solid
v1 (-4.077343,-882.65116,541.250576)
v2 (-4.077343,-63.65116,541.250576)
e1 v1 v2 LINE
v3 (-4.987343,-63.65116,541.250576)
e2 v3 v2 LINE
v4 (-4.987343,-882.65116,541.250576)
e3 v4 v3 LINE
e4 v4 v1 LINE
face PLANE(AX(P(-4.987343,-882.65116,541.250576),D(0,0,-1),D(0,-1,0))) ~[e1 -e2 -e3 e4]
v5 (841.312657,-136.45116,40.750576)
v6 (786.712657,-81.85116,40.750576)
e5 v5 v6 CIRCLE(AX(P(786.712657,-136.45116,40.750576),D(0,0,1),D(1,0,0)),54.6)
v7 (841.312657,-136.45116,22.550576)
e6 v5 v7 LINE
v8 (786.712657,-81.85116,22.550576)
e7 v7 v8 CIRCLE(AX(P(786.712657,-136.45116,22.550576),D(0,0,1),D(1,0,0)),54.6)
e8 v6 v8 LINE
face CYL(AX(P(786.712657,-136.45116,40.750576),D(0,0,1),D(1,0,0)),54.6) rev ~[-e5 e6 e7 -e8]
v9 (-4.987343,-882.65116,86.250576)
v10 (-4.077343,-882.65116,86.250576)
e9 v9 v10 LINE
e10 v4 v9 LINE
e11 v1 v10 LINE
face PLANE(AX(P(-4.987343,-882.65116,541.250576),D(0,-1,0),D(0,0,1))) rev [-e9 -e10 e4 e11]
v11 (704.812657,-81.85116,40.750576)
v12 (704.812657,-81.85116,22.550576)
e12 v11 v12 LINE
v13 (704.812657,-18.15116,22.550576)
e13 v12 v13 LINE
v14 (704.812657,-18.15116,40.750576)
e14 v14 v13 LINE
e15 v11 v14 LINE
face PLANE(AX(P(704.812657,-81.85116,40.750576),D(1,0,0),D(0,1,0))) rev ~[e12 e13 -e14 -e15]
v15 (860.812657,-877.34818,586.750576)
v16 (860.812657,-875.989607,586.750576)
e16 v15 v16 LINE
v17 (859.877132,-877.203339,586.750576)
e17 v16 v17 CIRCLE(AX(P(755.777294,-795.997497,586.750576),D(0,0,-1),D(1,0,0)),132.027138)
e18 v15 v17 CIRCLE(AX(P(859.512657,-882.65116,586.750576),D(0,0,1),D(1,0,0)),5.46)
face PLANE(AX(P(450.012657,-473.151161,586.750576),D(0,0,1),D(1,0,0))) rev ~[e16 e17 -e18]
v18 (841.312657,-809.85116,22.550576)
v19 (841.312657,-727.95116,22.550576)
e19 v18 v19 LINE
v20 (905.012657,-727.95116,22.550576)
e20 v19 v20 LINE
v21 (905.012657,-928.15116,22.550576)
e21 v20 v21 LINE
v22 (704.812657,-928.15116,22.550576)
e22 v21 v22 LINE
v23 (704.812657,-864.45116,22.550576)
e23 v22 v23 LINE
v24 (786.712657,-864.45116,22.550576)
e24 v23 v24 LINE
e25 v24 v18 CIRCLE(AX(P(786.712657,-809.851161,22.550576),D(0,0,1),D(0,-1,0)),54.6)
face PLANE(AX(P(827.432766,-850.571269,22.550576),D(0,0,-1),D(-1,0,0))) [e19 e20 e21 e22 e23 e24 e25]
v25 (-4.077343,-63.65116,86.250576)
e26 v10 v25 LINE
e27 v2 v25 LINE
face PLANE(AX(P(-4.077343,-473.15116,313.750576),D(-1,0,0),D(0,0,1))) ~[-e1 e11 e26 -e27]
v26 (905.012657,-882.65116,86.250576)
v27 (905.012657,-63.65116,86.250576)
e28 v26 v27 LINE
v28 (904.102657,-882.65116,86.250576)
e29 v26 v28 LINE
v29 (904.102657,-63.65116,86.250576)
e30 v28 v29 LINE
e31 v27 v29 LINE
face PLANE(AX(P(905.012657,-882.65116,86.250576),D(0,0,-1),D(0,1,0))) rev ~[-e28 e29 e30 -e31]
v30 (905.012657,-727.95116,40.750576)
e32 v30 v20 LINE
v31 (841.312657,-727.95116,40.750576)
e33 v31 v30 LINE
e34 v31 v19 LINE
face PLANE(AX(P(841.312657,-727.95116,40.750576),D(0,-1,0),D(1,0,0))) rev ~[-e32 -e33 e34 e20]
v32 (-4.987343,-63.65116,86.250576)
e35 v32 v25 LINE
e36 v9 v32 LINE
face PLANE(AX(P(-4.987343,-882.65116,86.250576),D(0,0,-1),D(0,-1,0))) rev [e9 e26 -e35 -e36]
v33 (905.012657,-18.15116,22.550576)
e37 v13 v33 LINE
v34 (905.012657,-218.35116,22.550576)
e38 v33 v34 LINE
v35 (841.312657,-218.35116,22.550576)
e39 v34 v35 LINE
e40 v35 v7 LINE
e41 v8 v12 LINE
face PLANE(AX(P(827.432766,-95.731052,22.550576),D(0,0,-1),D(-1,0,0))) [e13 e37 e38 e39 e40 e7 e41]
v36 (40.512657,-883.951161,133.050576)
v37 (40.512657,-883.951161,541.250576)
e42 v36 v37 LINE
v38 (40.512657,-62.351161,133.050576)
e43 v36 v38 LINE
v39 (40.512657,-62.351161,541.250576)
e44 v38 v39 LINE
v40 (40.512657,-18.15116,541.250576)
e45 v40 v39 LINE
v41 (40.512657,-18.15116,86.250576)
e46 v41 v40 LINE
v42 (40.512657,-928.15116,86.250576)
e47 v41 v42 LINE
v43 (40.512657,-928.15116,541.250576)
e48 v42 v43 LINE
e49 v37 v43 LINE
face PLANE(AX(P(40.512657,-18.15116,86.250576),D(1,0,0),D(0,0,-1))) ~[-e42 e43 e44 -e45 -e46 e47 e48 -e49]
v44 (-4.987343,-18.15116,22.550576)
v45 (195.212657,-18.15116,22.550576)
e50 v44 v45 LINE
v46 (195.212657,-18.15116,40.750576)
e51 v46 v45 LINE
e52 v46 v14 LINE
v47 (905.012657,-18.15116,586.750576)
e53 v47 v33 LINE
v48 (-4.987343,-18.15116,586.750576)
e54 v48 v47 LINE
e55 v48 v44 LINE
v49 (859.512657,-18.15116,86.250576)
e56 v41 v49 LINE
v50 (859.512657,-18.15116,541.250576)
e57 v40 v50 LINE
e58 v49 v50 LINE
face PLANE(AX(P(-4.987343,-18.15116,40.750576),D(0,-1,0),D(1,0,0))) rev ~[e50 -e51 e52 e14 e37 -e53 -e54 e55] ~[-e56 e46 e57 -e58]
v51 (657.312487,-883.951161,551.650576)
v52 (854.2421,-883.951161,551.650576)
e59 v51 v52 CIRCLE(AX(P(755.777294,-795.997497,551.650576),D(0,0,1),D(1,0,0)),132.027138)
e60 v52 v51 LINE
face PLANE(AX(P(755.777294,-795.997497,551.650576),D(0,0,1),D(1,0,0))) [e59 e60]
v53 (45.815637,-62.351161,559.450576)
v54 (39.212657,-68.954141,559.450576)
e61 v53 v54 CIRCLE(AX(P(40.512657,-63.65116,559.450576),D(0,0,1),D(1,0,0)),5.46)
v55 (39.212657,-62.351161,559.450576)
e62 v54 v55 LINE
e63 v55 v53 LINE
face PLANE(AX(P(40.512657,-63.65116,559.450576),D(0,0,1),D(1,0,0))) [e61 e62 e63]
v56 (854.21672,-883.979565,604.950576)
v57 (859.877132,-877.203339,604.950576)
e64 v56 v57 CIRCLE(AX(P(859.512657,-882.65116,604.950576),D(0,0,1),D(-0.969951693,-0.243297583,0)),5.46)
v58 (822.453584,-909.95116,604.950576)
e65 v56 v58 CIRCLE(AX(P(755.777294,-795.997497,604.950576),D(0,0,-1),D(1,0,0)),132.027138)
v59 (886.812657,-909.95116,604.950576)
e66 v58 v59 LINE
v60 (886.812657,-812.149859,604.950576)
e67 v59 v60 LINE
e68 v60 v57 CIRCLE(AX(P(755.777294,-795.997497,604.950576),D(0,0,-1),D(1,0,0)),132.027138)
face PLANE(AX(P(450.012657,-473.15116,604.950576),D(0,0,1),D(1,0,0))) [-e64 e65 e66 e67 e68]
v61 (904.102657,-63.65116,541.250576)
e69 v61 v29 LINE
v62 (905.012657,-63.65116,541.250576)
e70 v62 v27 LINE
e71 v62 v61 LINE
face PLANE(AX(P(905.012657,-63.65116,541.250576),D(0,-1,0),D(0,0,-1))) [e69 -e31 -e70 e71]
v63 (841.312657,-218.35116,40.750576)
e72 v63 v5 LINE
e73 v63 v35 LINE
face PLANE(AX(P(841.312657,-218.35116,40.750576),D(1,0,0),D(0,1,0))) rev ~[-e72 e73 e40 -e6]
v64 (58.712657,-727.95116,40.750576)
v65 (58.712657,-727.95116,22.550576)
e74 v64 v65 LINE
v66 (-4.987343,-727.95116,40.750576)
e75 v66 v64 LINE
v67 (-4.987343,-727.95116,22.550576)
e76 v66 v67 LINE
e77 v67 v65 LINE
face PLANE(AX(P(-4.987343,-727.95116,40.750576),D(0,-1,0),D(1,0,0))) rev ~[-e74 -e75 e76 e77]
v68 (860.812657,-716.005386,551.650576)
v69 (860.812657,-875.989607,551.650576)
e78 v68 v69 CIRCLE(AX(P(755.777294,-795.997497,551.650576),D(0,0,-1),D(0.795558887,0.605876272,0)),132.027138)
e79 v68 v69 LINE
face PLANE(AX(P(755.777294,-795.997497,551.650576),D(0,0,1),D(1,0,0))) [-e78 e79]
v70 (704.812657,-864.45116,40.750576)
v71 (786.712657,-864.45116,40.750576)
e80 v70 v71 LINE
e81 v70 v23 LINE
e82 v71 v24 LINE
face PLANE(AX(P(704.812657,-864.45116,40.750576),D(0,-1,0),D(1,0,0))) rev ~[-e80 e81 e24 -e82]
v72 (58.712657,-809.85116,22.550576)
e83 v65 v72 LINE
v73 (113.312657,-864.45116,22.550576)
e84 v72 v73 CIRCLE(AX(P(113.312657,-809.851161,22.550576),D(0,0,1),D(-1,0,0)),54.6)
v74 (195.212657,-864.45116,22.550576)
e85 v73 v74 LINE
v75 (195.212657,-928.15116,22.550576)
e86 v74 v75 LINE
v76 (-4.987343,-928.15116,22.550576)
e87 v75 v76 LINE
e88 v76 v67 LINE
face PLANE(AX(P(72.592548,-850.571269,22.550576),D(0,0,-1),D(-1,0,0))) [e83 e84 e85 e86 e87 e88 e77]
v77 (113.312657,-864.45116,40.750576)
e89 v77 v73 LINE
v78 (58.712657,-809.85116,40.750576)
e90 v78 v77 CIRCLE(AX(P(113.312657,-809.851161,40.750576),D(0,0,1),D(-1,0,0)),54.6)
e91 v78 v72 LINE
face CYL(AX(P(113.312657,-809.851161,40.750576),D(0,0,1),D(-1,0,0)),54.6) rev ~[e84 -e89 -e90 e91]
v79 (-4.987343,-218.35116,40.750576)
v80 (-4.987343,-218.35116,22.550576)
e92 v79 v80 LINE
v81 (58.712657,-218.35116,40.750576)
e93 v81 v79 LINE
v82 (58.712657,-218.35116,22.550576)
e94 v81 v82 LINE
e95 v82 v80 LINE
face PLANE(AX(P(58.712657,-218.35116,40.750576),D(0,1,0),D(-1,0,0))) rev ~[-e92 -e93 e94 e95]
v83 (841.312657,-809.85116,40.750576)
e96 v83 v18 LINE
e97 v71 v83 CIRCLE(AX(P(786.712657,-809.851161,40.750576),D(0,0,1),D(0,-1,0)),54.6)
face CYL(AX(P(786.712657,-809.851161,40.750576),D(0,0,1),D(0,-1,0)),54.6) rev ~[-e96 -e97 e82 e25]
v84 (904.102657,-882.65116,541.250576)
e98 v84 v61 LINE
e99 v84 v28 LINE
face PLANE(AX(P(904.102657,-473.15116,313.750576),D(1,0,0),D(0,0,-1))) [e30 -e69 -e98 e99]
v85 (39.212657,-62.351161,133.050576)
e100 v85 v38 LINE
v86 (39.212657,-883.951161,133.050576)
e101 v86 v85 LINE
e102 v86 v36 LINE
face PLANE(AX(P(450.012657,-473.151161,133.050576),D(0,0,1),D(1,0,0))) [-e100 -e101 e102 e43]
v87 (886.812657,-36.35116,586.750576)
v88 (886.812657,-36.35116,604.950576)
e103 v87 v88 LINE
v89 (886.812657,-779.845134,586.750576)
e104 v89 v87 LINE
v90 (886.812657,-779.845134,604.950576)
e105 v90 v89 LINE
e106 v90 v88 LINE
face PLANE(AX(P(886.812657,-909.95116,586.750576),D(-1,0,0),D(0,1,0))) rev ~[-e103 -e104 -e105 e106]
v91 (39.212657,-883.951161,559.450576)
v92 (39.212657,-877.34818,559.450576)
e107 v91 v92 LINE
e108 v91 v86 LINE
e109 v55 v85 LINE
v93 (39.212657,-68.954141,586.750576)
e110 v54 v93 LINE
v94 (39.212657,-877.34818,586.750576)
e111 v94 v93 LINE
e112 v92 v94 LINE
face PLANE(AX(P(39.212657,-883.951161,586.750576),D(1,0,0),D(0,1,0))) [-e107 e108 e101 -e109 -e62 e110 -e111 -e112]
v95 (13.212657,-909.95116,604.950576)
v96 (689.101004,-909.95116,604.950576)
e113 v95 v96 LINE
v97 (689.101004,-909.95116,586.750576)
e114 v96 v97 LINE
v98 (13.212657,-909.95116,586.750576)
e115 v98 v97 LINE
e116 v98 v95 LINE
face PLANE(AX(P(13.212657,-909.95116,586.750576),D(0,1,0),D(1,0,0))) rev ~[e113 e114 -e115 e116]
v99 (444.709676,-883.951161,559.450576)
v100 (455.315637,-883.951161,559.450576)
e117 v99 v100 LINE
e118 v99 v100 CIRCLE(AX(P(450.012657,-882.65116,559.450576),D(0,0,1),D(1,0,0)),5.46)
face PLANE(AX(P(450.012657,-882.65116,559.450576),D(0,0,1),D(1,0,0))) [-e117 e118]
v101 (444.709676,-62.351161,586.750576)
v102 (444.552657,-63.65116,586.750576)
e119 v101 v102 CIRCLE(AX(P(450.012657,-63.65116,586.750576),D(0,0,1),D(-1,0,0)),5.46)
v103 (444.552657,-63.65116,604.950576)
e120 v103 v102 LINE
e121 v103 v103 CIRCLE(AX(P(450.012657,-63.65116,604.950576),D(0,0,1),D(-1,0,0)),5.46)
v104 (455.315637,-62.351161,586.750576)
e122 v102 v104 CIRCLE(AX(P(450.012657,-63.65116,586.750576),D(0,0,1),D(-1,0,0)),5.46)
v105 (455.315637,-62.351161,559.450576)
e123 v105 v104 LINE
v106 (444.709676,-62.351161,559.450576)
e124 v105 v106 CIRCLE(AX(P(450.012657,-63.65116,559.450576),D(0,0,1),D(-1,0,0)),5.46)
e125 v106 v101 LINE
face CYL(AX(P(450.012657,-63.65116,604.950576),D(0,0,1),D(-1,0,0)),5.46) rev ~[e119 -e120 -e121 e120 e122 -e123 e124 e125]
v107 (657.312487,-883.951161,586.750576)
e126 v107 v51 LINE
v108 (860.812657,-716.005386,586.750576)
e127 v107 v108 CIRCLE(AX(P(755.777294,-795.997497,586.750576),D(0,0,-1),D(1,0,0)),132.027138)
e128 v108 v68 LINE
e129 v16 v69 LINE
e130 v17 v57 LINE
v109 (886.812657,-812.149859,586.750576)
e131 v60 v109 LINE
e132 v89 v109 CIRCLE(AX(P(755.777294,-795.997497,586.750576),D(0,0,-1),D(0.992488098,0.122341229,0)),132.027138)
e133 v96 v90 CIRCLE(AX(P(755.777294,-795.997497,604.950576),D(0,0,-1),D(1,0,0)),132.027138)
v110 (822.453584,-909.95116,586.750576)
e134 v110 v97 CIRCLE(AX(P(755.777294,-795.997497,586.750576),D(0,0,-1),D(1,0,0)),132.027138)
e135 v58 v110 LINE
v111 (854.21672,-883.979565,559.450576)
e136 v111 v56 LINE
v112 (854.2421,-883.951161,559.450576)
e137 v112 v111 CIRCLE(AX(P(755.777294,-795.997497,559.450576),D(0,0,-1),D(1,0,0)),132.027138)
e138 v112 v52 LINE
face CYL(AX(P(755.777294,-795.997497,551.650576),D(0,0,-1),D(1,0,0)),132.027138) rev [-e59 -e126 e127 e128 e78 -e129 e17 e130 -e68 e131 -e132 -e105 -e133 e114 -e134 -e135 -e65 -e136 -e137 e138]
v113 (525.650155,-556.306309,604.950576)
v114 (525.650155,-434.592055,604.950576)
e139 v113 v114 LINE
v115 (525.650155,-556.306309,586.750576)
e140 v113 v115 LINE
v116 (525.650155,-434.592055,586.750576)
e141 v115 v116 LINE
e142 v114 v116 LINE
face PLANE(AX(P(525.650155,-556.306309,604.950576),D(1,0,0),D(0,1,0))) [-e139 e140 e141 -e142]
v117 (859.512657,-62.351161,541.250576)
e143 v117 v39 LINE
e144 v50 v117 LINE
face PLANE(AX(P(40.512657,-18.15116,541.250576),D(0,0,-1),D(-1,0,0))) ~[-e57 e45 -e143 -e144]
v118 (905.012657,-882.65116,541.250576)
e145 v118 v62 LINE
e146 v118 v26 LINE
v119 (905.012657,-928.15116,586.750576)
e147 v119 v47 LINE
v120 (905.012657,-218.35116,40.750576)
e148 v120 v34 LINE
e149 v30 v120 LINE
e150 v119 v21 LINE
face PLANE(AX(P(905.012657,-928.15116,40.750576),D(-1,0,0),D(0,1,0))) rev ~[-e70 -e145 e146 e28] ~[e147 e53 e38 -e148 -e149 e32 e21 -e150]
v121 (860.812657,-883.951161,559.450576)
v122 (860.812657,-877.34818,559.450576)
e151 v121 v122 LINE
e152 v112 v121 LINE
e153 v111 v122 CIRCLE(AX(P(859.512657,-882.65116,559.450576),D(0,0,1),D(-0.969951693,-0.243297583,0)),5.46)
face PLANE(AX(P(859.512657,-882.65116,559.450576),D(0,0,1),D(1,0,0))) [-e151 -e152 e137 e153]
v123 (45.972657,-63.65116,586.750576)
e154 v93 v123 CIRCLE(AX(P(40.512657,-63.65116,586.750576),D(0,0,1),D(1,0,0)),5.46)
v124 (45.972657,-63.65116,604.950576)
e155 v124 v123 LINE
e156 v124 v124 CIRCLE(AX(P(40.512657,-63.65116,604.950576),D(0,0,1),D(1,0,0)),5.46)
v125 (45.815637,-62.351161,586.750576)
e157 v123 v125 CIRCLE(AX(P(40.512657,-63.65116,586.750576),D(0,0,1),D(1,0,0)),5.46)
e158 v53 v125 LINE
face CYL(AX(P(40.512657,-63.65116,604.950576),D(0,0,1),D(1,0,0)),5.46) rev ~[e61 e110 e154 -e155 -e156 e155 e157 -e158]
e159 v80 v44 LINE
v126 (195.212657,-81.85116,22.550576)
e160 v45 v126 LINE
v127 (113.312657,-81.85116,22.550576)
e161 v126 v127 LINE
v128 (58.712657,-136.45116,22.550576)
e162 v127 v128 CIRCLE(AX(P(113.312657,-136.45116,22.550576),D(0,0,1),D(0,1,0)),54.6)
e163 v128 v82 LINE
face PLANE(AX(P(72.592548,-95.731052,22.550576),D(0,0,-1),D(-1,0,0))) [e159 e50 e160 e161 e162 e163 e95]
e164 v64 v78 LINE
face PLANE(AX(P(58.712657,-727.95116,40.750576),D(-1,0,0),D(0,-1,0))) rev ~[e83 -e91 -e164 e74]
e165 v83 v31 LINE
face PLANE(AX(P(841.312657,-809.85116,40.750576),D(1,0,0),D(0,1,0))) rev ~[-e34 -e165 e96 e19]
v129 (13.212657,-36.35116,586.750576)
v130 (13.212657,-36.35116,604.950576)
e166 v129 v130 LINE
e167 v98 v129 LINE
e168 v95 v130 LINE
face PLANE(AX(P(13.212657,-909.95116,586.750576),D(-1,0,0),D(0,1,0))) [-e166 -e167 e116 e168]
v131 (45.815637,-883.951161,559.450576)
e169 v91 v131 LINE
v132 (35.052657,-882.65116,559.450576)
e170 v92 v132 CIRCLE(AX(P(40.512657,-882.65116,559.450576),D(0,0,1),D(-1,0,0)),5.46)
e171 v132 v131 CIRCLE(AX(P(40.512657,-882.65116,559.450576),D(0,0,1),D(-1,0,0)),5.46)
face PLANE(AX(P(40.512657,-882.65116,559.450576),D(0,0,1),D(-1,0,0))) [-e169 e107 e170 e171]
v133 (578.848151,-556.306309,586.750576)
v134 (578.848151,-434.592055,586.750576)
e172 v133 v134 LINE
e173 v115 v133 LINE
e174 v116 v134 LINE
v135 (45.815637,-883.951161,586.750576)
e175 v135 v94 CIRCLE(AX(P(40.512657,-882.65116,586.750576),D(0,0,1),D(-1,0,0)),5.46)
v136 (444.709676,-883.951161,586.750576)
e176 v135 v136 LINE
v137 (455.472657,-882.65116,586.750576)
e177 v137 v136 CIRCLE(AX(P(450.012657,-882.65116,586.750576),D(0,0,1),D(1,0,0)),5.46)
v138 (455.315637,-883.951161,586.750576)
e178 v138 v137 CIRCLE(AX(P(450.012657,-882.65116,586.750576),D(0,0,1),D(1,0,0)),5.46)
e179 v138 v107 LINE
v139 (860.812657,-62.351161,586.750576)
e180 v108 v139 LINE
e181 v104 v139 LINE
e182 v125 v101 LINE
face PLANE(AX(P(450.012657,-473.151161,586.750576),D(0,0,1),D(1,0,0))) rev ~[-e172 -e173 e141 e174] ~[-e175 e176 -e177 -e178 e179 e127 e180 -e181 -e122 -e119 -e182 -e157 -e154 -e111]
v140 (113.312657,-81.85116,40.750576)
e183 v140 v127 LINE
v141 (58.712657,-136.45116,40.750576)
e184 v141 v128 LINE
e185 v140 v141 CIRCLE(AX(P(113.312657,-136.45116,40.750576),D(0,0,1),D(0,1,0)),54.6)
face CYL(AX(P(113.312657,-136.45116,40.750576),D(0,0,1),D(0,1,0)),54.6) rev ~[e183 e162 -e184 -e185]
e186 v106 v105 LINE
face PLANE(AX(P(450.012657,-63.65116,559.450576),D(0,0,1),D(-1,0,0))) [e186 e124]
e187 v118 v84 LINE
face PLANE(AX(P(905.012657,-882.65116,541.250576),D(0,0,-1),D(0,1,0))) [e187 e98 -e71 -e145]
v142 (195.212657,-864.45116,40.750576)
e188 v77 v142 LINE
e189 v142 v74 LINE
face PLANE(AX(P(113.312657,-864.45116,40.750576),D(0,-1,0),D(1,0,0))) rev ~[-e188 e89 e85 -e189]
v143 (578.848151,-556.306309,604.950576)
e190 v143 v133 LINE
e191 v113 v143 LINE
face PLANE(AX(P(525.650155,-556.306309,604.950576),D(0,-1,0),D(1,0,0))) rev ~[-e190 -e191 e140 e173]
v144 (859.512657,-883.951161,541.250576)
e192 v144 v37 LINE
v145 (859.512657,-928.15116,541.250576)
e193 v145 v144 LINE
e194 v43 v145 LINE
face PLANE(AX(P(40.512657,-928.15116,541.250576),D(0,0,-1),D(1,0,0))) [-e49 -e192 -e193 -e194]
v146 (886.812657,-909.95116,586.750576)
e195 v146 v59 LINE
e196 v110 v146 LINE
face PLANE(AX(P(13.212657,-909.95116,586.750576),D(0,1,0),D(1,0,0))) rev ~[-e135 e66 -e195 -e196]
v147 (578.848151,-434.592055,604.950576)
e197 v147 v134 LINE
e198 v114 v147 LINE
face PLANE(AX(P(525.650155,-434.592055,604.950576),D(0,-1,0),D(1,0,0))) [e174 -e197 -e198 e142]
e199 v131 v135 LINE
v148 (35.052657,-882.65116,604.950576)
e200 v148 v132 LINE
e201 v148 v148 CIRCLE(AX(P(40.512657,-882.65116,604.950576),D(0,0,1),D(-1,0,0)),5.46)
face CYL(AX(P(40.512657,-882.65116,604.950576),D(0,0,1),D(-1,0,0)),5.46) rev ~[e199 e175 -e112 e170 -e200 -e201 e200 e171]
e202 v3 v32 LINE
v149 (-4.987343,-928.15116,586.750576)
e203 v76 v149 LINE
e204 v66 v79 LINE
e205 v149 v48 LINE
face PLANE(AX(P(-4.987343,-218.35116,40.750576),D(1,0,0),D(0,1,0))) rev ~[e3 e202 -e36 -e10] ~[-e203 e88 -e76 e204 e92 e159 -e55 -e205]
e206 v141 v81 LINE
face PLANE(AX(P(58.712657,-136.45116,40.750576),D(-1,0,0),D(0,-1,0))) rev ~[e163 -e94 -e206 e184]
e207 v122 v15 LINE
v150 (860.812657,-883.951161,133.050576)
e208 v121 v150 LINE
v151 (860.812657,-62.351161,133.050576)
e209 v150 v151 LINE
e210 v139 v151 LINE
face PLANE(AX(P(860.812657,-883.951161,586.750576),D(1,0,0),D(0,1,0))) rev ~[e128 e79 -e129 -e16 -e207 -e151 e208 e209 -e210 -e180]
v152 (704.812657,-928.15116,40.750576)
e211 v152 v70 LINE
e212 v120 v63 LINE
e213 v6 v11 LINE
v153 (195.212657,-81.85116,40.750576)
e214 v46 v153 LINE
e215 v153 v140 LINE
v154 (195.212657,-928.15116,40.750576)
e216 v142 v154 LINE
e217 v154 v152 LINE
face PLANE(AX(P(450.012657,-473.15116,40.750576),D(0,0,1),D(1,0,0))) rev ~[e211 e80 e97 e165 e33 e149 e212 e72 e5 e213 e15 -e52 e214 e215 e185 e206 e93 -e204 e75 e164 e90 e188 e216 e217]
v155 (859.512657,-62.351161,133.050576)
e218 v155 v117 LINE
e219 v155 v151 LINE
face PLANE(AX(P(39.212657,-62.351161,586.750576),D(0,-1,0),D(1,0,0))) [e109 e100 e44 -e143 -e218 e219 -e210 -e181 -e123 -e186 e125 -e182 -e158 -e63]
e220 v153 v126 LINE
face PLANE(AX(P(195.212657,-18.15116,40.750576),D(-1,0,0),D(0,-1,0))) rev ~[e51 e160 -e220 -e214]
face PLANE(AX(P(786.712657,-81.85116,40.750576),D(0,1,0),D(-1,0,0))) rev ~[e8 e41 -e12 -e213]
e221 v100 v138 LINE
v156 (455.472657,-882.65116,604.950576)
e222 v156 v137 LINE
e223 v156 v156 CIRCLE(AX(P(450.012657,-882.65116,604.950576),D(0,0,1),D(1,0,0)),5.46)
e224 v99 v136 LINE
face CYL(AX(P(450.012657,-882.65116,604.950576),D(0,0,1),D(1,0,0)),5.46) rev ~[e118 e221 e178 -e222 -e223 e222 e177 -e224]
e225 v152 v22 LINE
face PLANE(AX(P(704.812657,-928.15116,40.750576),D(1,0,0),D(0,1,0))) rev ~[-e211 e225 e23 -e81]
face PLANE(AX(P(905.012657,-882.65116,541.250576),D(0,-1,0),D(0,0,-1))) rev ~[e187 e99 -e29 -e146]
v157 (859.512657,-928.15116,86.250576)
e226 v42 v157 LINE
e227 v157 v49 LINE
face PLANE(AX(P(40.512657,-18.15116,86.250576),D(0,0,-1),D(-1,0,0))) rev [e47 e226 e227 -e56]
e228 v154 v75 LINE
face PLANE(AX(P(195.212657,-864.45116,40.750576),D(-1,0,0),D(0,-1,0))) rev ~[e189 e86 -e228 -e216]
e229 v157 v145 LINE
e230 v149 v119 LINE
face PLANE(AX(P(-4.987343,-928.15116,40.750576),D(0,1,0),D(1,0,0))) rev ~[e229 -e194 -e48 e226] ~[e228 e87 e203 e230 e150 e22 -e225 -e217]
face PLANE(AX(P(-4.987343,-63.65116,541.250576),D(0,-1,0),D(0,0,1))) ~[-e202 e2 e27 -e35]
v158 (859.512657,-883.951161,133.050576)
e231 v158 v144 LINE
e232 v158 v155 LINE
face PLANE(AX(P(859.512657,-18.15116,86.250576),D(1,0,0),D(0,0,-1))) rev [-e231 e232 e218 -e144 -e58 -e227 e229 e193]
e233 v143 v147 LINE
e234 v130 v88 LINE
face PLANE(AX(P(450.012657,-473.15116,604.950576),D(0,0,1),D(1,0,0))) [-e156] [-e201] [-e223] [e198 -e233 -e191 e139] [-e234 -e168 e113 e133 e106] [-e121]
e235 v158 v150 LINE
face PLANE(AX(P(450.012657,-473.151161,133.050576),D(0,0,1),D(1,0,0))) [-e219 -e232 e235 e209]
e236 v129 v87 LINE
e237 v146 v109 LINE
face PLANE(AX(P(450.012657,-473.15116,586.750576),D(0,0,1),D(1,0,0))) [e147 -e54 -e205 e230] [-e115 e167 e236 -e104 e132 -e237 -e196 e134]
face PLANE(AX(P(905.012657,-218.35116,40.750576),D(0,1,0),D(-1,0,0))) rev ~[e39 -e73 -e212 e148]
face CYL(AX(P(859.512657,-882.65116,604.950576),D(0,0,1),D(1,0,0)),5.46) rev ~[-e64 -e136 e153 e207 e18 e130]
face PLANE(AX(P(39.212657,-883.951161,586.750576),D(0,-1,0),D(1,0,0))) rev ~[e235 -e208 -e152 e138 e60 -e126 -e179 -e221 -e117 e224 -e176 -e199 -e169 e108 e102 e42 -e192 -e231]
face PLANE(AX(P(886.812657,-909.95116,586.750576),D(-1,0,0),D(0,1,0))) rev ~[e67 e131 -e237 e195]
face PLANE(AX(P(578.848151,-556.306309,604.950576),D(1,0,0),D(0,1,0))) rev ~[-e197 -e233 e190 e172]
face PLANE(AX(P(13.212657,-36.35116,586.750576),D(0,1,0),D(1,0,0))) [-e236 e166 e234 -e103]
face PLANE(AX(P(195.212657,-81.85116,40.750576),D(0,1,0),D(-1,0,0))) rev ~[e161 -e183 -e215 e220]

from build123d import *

# Parameters (mm, degrees)
SKETCH_1_W                = 1000
SKETCH_1_H                = 1000
EXTRUDE_1_DEPTH           = 600
SKETCH_2_W                = 900
SKETCH_2_H                = 500
CUT_EXTRUDE_3_DEPTH       = 1
SKETCH_5_W                = 500
SKETCH_5_H                = 900
CUT_EXTRUDE_4_DEPTH       = 1
SKETCH_8_W                = 960
SKETCH_8_H                = 960
EXTRUDE_5_DEPTH           = 20
SKETCH_9_W                = 450
SKETCH_9_H                = 500
CUT_EXTRUDE_5_DEPTH       = 20
EXTRUDE_7_DEPTH           = 20
SKETCH_10_R               = 6
CUT_EXTRUDE_6_DEPTH       = 50
SCALE_3_SCALE             = 0.7
SKETCH_13_W               = 632
SKETCH_13_H               = 632
CUT_EXTRUDE_9_DEPTH       = 349
SKETCH_14_W               = 40.921535405
SKETCH_14_H               = 93.626348877
CUT_EXTRUDE_10_DEPTH      = 48
SKETCH_16_W               = 630
SKETCH_16_H               = 350
CUT_EXTRUDE_11_DEPTH      = 952
CUT_EXTRUDE_14_DEPTH      = 30
CUT_EXTRUDE_14_DEPTH_BACK = 41
SKETCH_17_R               = 101.559336937
SCALE_4_SCALE             = 1.3


with BuildPart() as part:
    # 草图1 → 凸台-拉伸1 (new body)
    with BuildSketch(Plane.XY):
        with Locations((450, -472.091412742)):
            Rectangle(SKETCH_1_W, SKETCH_1_H)
    extrude(amount=EXTRUDE_1_DEPTH)

    # 草图2 → 切除-拉伸3 (cut)
    with BuildSketch(Plane.XZ.offset(972.091412742)):
        with Locations((450, 300)):
            Rectangle(SKETCH_2_W, SKETCH_2_H)
    cut_extrude_3 = extrude(amount=-CUT_EXTRUDE_3_DEPTH, mode=Mode.SUBTRACT)

    # 草图5 → 切除-拉伸4 (cut)
    with BuildSketch(Plane(origin=(950, 0, 0), x_dir=(0, 0, -1), z_dir=(1, 0, 0))):
        with Locations((-300, -472.091412742)):
            Rectangle(SKETCH_5_W, SKETCH_5_H)
    cut_extrude_4 = extrude(amount=-CUT_EXTRUDE_4_DEPTH, mode=Mode.SUBTRACT)

    # 镜向1: 切除-拉伸3 across plane
    add(cut_extrude_3.mirror(Plane.ZX.offset(-472.091412742)), mode=Mode.SUBTRACT)

    # 镜向2: 切除-拉伸4 across plane
    add(cut_extrude_4.mirror(Plane.ZY.offset(-450)), mode=Mode.SUBTRACT)

    # 草图8 → 凸台-拉伸5 (add)
    with BuildSketch(Plane.XY.offset(600)):
        with Locations((450, -472.091412742)):
            Rectangle(SKETCH_8_W, SKETCH_8_H)
    extrude(amount=EXTRUDE_5_DEPTH)

    # 草图9 → 切除-拉伸5 (cut)
    with BuildSketch(Plane.XZ.offset(971.091412742)):
        with Locations((675, 300)):
            Rectangle(SKETCH_9_W, SKETCH_9_H)
    cut_extrude_5 = extrude(amount=-CUT_EXTRUDE_5_DEPTH, mode=Mode.SUBTRACT)

    # 镜向3: 切除-拉伸5 across plane
    add(cut_extrude_5.mirror(Plane.ZX.offset(-472.091412742)), mode=Mode.SUBTRACT)

    # 草图11 → 凸台-拉伸7 (add)
    with BuildSketch(Plane(origin=(0, 0, 0), x_dir=(-1, 0, 0), z_dir=(0, 0, -1))):
        with BuildLine():
            Line((-20, -192.091412742), (50, -192.091412742))
            Line((50, -192.091412742), (50, 27.908587258))
            Line((50, 27.908587258), (-170, 27.908587258))
            Line((-170, 27.908587258), (-170, -42.091412742))
            Line((-170, -42.091412742), (-80, -42.091412742))
            ThreePointArc((-80, -42.091412742), (-37.573593129, -59.665005871), (-20, -102.091412742))
            Line((-20, -102.091412742), (-20, -192.091412742))
        make_face()
        with BuildLine():
            Line((50, -972.091412742), (50, -752.091412742))
            Line((50, -752.091412742), (-20, -752.091412742))
            Line((-20, -752.091412742), (-20, -842.091412742))
            ThreePointArc((-20, -842.091412742), (-37.573593129, -884.517819614), (-80, -902.091412742))
            Line((-80, -902.091412742), (-170, -902.091412742))
            Line((-170, -902.091412742), (-170, -972.091412742))
            Line((-170, -972.091412742), (50, -972.091412742))
        make_face()
        with BuildLine():
            Line((-730, -42.091412742), (-730, 27.908587258))
            Line((-730, 27.908587258), (-950, 27.908587258))
            Line((-950, 27.908587258), (-950, -192.091412742))
            Line((-950, -192.091412742), (-880, -192.091412742))
            Line((-880, -192.091412742), (-880, -102.091412742))
            ThreePointArc((-880, -102.091412742), (-862.426406871, -59.665005871), (-820, -42.091412742))
            Line((-820, -42.091412742), (-730, -42.091412742))
        make_face()
        with BuildLine():
            Line((-950, -972.091412742), (-730, -972.091412742))
            Line((-730, -972.091412742), (-730, -902.091412742))
            Line((-730, -902.091412742), (-820, -902.091412742))
            ThreePointArc((-820, -902.091412742), (-862.426406871, -884.517819614), (-880, -842.091412742))
            Line((-880, -842.091412742), (-880, -752.091412742))
            Line((-880, -752.091412742), (-950, -752.091412742))
            Line((-950, -752.091412742), (-950, -972.091412742))
        make_face()
    extrude(amount=EXTRUDE_7_DEPTH)

    # 草图10 → 切除-拉伸6 (cut)
    with BuildSketch(Plane.XY.offset(620)):
        with Locations((450, -922.091412742)):
            Circle(SKETCH_10_R)
        with Locations((900, -922.091412742)):
            Circle(SKETCH_10_R)
        with Locations(Location((0, -922.091412742, 0), (0, 0, 180))):
            Circle(SKETCH_10_R)
        with Locations((0, -22.091412742)):
            Circle(SKETCH_10_R)
        with Locations(Location((450, -22.091412742, 0), (0, 0, 180))):
            Circle(SKETCH_10_R)
    extrude(amount=-CUT_EXTRUDE_6_DEPTH, mode=Mode.SUBTRACT)


with BuildPart() as part_1:
    # 缩放比例3: scaled about (446.683072294, -472.087239324, 308.272574941)
    add(part.part.scale(SCALE_3_SCALE).moved(Location((134.004921688, -141.626171797, 92.481772482))))

    # 草图13 → 切除-拉伸9 (cut)
    with BuildSketch(Plane.XY.offset(512.481772482)):
        with Locations((449.004921688, -472.090160717)):
            Rectangle(SKETCH_13_W, SKETCH_13_H)
    extrude(amount=-CUT_EXTRUDE_9_DEPTH, mode=Mode.SUBTRACT)

    # 草图14 → 切除-拉伸10 (cut)
    with BuildSketch(Plane.XY.offset(526.481772482)):
        with Locations((527.648380446, -489.242485135)):
            Rectangle(SKETCH_14_W, SKETCH_14_H)
    extrude(amount=-CUT_EXTRUDE_10_DEPTH, mode=Mode.SUBTRACT)

    # 草图16 → 切除-拉伸11 (cut)
    with BuildSketch(Plane(origin=(0, -122.790160717, 0), x_dir=(1, 0, 0), z_dir=(0, 1, 0))):
        with Locations((449.004921688, -302.481772482)):
            Rectangle(SKETCH_16_W, SKETCH_16_H)
    extrude(amount=-CUT_EXTRUDE_11_DEPTH, mode=Mode.SUBTRACT)

    # 草图17 → 切除-拉伸14 (cut, two sides: drawn at the far end of the back side and taken through both)
    with BuildSketch(Plane.XY.offset(526.481772482).offset(-CUT_EXTRUDE_14_DEPTH_BACK)):
        with Locations((684.208488582, -720.433496124)):
            Circle(SKETCH_17_R)
    extrude(amount=CUT_EXTRUDE_14_DEPTH + CUT_EXTRUDE_14_DEPTH_BACK, mode=Mode.SUBTRACT)


with BuildPart() as part_2:
    # 缩放比例4: scaled about (445.645805115, -468.553494774, 264.919094527)
    add(part_1.part.scale(SCALE_4_SCALE).moved(Location((-133.693741535, 140.566048432, -79.475728358))))


solid = part_2.part
